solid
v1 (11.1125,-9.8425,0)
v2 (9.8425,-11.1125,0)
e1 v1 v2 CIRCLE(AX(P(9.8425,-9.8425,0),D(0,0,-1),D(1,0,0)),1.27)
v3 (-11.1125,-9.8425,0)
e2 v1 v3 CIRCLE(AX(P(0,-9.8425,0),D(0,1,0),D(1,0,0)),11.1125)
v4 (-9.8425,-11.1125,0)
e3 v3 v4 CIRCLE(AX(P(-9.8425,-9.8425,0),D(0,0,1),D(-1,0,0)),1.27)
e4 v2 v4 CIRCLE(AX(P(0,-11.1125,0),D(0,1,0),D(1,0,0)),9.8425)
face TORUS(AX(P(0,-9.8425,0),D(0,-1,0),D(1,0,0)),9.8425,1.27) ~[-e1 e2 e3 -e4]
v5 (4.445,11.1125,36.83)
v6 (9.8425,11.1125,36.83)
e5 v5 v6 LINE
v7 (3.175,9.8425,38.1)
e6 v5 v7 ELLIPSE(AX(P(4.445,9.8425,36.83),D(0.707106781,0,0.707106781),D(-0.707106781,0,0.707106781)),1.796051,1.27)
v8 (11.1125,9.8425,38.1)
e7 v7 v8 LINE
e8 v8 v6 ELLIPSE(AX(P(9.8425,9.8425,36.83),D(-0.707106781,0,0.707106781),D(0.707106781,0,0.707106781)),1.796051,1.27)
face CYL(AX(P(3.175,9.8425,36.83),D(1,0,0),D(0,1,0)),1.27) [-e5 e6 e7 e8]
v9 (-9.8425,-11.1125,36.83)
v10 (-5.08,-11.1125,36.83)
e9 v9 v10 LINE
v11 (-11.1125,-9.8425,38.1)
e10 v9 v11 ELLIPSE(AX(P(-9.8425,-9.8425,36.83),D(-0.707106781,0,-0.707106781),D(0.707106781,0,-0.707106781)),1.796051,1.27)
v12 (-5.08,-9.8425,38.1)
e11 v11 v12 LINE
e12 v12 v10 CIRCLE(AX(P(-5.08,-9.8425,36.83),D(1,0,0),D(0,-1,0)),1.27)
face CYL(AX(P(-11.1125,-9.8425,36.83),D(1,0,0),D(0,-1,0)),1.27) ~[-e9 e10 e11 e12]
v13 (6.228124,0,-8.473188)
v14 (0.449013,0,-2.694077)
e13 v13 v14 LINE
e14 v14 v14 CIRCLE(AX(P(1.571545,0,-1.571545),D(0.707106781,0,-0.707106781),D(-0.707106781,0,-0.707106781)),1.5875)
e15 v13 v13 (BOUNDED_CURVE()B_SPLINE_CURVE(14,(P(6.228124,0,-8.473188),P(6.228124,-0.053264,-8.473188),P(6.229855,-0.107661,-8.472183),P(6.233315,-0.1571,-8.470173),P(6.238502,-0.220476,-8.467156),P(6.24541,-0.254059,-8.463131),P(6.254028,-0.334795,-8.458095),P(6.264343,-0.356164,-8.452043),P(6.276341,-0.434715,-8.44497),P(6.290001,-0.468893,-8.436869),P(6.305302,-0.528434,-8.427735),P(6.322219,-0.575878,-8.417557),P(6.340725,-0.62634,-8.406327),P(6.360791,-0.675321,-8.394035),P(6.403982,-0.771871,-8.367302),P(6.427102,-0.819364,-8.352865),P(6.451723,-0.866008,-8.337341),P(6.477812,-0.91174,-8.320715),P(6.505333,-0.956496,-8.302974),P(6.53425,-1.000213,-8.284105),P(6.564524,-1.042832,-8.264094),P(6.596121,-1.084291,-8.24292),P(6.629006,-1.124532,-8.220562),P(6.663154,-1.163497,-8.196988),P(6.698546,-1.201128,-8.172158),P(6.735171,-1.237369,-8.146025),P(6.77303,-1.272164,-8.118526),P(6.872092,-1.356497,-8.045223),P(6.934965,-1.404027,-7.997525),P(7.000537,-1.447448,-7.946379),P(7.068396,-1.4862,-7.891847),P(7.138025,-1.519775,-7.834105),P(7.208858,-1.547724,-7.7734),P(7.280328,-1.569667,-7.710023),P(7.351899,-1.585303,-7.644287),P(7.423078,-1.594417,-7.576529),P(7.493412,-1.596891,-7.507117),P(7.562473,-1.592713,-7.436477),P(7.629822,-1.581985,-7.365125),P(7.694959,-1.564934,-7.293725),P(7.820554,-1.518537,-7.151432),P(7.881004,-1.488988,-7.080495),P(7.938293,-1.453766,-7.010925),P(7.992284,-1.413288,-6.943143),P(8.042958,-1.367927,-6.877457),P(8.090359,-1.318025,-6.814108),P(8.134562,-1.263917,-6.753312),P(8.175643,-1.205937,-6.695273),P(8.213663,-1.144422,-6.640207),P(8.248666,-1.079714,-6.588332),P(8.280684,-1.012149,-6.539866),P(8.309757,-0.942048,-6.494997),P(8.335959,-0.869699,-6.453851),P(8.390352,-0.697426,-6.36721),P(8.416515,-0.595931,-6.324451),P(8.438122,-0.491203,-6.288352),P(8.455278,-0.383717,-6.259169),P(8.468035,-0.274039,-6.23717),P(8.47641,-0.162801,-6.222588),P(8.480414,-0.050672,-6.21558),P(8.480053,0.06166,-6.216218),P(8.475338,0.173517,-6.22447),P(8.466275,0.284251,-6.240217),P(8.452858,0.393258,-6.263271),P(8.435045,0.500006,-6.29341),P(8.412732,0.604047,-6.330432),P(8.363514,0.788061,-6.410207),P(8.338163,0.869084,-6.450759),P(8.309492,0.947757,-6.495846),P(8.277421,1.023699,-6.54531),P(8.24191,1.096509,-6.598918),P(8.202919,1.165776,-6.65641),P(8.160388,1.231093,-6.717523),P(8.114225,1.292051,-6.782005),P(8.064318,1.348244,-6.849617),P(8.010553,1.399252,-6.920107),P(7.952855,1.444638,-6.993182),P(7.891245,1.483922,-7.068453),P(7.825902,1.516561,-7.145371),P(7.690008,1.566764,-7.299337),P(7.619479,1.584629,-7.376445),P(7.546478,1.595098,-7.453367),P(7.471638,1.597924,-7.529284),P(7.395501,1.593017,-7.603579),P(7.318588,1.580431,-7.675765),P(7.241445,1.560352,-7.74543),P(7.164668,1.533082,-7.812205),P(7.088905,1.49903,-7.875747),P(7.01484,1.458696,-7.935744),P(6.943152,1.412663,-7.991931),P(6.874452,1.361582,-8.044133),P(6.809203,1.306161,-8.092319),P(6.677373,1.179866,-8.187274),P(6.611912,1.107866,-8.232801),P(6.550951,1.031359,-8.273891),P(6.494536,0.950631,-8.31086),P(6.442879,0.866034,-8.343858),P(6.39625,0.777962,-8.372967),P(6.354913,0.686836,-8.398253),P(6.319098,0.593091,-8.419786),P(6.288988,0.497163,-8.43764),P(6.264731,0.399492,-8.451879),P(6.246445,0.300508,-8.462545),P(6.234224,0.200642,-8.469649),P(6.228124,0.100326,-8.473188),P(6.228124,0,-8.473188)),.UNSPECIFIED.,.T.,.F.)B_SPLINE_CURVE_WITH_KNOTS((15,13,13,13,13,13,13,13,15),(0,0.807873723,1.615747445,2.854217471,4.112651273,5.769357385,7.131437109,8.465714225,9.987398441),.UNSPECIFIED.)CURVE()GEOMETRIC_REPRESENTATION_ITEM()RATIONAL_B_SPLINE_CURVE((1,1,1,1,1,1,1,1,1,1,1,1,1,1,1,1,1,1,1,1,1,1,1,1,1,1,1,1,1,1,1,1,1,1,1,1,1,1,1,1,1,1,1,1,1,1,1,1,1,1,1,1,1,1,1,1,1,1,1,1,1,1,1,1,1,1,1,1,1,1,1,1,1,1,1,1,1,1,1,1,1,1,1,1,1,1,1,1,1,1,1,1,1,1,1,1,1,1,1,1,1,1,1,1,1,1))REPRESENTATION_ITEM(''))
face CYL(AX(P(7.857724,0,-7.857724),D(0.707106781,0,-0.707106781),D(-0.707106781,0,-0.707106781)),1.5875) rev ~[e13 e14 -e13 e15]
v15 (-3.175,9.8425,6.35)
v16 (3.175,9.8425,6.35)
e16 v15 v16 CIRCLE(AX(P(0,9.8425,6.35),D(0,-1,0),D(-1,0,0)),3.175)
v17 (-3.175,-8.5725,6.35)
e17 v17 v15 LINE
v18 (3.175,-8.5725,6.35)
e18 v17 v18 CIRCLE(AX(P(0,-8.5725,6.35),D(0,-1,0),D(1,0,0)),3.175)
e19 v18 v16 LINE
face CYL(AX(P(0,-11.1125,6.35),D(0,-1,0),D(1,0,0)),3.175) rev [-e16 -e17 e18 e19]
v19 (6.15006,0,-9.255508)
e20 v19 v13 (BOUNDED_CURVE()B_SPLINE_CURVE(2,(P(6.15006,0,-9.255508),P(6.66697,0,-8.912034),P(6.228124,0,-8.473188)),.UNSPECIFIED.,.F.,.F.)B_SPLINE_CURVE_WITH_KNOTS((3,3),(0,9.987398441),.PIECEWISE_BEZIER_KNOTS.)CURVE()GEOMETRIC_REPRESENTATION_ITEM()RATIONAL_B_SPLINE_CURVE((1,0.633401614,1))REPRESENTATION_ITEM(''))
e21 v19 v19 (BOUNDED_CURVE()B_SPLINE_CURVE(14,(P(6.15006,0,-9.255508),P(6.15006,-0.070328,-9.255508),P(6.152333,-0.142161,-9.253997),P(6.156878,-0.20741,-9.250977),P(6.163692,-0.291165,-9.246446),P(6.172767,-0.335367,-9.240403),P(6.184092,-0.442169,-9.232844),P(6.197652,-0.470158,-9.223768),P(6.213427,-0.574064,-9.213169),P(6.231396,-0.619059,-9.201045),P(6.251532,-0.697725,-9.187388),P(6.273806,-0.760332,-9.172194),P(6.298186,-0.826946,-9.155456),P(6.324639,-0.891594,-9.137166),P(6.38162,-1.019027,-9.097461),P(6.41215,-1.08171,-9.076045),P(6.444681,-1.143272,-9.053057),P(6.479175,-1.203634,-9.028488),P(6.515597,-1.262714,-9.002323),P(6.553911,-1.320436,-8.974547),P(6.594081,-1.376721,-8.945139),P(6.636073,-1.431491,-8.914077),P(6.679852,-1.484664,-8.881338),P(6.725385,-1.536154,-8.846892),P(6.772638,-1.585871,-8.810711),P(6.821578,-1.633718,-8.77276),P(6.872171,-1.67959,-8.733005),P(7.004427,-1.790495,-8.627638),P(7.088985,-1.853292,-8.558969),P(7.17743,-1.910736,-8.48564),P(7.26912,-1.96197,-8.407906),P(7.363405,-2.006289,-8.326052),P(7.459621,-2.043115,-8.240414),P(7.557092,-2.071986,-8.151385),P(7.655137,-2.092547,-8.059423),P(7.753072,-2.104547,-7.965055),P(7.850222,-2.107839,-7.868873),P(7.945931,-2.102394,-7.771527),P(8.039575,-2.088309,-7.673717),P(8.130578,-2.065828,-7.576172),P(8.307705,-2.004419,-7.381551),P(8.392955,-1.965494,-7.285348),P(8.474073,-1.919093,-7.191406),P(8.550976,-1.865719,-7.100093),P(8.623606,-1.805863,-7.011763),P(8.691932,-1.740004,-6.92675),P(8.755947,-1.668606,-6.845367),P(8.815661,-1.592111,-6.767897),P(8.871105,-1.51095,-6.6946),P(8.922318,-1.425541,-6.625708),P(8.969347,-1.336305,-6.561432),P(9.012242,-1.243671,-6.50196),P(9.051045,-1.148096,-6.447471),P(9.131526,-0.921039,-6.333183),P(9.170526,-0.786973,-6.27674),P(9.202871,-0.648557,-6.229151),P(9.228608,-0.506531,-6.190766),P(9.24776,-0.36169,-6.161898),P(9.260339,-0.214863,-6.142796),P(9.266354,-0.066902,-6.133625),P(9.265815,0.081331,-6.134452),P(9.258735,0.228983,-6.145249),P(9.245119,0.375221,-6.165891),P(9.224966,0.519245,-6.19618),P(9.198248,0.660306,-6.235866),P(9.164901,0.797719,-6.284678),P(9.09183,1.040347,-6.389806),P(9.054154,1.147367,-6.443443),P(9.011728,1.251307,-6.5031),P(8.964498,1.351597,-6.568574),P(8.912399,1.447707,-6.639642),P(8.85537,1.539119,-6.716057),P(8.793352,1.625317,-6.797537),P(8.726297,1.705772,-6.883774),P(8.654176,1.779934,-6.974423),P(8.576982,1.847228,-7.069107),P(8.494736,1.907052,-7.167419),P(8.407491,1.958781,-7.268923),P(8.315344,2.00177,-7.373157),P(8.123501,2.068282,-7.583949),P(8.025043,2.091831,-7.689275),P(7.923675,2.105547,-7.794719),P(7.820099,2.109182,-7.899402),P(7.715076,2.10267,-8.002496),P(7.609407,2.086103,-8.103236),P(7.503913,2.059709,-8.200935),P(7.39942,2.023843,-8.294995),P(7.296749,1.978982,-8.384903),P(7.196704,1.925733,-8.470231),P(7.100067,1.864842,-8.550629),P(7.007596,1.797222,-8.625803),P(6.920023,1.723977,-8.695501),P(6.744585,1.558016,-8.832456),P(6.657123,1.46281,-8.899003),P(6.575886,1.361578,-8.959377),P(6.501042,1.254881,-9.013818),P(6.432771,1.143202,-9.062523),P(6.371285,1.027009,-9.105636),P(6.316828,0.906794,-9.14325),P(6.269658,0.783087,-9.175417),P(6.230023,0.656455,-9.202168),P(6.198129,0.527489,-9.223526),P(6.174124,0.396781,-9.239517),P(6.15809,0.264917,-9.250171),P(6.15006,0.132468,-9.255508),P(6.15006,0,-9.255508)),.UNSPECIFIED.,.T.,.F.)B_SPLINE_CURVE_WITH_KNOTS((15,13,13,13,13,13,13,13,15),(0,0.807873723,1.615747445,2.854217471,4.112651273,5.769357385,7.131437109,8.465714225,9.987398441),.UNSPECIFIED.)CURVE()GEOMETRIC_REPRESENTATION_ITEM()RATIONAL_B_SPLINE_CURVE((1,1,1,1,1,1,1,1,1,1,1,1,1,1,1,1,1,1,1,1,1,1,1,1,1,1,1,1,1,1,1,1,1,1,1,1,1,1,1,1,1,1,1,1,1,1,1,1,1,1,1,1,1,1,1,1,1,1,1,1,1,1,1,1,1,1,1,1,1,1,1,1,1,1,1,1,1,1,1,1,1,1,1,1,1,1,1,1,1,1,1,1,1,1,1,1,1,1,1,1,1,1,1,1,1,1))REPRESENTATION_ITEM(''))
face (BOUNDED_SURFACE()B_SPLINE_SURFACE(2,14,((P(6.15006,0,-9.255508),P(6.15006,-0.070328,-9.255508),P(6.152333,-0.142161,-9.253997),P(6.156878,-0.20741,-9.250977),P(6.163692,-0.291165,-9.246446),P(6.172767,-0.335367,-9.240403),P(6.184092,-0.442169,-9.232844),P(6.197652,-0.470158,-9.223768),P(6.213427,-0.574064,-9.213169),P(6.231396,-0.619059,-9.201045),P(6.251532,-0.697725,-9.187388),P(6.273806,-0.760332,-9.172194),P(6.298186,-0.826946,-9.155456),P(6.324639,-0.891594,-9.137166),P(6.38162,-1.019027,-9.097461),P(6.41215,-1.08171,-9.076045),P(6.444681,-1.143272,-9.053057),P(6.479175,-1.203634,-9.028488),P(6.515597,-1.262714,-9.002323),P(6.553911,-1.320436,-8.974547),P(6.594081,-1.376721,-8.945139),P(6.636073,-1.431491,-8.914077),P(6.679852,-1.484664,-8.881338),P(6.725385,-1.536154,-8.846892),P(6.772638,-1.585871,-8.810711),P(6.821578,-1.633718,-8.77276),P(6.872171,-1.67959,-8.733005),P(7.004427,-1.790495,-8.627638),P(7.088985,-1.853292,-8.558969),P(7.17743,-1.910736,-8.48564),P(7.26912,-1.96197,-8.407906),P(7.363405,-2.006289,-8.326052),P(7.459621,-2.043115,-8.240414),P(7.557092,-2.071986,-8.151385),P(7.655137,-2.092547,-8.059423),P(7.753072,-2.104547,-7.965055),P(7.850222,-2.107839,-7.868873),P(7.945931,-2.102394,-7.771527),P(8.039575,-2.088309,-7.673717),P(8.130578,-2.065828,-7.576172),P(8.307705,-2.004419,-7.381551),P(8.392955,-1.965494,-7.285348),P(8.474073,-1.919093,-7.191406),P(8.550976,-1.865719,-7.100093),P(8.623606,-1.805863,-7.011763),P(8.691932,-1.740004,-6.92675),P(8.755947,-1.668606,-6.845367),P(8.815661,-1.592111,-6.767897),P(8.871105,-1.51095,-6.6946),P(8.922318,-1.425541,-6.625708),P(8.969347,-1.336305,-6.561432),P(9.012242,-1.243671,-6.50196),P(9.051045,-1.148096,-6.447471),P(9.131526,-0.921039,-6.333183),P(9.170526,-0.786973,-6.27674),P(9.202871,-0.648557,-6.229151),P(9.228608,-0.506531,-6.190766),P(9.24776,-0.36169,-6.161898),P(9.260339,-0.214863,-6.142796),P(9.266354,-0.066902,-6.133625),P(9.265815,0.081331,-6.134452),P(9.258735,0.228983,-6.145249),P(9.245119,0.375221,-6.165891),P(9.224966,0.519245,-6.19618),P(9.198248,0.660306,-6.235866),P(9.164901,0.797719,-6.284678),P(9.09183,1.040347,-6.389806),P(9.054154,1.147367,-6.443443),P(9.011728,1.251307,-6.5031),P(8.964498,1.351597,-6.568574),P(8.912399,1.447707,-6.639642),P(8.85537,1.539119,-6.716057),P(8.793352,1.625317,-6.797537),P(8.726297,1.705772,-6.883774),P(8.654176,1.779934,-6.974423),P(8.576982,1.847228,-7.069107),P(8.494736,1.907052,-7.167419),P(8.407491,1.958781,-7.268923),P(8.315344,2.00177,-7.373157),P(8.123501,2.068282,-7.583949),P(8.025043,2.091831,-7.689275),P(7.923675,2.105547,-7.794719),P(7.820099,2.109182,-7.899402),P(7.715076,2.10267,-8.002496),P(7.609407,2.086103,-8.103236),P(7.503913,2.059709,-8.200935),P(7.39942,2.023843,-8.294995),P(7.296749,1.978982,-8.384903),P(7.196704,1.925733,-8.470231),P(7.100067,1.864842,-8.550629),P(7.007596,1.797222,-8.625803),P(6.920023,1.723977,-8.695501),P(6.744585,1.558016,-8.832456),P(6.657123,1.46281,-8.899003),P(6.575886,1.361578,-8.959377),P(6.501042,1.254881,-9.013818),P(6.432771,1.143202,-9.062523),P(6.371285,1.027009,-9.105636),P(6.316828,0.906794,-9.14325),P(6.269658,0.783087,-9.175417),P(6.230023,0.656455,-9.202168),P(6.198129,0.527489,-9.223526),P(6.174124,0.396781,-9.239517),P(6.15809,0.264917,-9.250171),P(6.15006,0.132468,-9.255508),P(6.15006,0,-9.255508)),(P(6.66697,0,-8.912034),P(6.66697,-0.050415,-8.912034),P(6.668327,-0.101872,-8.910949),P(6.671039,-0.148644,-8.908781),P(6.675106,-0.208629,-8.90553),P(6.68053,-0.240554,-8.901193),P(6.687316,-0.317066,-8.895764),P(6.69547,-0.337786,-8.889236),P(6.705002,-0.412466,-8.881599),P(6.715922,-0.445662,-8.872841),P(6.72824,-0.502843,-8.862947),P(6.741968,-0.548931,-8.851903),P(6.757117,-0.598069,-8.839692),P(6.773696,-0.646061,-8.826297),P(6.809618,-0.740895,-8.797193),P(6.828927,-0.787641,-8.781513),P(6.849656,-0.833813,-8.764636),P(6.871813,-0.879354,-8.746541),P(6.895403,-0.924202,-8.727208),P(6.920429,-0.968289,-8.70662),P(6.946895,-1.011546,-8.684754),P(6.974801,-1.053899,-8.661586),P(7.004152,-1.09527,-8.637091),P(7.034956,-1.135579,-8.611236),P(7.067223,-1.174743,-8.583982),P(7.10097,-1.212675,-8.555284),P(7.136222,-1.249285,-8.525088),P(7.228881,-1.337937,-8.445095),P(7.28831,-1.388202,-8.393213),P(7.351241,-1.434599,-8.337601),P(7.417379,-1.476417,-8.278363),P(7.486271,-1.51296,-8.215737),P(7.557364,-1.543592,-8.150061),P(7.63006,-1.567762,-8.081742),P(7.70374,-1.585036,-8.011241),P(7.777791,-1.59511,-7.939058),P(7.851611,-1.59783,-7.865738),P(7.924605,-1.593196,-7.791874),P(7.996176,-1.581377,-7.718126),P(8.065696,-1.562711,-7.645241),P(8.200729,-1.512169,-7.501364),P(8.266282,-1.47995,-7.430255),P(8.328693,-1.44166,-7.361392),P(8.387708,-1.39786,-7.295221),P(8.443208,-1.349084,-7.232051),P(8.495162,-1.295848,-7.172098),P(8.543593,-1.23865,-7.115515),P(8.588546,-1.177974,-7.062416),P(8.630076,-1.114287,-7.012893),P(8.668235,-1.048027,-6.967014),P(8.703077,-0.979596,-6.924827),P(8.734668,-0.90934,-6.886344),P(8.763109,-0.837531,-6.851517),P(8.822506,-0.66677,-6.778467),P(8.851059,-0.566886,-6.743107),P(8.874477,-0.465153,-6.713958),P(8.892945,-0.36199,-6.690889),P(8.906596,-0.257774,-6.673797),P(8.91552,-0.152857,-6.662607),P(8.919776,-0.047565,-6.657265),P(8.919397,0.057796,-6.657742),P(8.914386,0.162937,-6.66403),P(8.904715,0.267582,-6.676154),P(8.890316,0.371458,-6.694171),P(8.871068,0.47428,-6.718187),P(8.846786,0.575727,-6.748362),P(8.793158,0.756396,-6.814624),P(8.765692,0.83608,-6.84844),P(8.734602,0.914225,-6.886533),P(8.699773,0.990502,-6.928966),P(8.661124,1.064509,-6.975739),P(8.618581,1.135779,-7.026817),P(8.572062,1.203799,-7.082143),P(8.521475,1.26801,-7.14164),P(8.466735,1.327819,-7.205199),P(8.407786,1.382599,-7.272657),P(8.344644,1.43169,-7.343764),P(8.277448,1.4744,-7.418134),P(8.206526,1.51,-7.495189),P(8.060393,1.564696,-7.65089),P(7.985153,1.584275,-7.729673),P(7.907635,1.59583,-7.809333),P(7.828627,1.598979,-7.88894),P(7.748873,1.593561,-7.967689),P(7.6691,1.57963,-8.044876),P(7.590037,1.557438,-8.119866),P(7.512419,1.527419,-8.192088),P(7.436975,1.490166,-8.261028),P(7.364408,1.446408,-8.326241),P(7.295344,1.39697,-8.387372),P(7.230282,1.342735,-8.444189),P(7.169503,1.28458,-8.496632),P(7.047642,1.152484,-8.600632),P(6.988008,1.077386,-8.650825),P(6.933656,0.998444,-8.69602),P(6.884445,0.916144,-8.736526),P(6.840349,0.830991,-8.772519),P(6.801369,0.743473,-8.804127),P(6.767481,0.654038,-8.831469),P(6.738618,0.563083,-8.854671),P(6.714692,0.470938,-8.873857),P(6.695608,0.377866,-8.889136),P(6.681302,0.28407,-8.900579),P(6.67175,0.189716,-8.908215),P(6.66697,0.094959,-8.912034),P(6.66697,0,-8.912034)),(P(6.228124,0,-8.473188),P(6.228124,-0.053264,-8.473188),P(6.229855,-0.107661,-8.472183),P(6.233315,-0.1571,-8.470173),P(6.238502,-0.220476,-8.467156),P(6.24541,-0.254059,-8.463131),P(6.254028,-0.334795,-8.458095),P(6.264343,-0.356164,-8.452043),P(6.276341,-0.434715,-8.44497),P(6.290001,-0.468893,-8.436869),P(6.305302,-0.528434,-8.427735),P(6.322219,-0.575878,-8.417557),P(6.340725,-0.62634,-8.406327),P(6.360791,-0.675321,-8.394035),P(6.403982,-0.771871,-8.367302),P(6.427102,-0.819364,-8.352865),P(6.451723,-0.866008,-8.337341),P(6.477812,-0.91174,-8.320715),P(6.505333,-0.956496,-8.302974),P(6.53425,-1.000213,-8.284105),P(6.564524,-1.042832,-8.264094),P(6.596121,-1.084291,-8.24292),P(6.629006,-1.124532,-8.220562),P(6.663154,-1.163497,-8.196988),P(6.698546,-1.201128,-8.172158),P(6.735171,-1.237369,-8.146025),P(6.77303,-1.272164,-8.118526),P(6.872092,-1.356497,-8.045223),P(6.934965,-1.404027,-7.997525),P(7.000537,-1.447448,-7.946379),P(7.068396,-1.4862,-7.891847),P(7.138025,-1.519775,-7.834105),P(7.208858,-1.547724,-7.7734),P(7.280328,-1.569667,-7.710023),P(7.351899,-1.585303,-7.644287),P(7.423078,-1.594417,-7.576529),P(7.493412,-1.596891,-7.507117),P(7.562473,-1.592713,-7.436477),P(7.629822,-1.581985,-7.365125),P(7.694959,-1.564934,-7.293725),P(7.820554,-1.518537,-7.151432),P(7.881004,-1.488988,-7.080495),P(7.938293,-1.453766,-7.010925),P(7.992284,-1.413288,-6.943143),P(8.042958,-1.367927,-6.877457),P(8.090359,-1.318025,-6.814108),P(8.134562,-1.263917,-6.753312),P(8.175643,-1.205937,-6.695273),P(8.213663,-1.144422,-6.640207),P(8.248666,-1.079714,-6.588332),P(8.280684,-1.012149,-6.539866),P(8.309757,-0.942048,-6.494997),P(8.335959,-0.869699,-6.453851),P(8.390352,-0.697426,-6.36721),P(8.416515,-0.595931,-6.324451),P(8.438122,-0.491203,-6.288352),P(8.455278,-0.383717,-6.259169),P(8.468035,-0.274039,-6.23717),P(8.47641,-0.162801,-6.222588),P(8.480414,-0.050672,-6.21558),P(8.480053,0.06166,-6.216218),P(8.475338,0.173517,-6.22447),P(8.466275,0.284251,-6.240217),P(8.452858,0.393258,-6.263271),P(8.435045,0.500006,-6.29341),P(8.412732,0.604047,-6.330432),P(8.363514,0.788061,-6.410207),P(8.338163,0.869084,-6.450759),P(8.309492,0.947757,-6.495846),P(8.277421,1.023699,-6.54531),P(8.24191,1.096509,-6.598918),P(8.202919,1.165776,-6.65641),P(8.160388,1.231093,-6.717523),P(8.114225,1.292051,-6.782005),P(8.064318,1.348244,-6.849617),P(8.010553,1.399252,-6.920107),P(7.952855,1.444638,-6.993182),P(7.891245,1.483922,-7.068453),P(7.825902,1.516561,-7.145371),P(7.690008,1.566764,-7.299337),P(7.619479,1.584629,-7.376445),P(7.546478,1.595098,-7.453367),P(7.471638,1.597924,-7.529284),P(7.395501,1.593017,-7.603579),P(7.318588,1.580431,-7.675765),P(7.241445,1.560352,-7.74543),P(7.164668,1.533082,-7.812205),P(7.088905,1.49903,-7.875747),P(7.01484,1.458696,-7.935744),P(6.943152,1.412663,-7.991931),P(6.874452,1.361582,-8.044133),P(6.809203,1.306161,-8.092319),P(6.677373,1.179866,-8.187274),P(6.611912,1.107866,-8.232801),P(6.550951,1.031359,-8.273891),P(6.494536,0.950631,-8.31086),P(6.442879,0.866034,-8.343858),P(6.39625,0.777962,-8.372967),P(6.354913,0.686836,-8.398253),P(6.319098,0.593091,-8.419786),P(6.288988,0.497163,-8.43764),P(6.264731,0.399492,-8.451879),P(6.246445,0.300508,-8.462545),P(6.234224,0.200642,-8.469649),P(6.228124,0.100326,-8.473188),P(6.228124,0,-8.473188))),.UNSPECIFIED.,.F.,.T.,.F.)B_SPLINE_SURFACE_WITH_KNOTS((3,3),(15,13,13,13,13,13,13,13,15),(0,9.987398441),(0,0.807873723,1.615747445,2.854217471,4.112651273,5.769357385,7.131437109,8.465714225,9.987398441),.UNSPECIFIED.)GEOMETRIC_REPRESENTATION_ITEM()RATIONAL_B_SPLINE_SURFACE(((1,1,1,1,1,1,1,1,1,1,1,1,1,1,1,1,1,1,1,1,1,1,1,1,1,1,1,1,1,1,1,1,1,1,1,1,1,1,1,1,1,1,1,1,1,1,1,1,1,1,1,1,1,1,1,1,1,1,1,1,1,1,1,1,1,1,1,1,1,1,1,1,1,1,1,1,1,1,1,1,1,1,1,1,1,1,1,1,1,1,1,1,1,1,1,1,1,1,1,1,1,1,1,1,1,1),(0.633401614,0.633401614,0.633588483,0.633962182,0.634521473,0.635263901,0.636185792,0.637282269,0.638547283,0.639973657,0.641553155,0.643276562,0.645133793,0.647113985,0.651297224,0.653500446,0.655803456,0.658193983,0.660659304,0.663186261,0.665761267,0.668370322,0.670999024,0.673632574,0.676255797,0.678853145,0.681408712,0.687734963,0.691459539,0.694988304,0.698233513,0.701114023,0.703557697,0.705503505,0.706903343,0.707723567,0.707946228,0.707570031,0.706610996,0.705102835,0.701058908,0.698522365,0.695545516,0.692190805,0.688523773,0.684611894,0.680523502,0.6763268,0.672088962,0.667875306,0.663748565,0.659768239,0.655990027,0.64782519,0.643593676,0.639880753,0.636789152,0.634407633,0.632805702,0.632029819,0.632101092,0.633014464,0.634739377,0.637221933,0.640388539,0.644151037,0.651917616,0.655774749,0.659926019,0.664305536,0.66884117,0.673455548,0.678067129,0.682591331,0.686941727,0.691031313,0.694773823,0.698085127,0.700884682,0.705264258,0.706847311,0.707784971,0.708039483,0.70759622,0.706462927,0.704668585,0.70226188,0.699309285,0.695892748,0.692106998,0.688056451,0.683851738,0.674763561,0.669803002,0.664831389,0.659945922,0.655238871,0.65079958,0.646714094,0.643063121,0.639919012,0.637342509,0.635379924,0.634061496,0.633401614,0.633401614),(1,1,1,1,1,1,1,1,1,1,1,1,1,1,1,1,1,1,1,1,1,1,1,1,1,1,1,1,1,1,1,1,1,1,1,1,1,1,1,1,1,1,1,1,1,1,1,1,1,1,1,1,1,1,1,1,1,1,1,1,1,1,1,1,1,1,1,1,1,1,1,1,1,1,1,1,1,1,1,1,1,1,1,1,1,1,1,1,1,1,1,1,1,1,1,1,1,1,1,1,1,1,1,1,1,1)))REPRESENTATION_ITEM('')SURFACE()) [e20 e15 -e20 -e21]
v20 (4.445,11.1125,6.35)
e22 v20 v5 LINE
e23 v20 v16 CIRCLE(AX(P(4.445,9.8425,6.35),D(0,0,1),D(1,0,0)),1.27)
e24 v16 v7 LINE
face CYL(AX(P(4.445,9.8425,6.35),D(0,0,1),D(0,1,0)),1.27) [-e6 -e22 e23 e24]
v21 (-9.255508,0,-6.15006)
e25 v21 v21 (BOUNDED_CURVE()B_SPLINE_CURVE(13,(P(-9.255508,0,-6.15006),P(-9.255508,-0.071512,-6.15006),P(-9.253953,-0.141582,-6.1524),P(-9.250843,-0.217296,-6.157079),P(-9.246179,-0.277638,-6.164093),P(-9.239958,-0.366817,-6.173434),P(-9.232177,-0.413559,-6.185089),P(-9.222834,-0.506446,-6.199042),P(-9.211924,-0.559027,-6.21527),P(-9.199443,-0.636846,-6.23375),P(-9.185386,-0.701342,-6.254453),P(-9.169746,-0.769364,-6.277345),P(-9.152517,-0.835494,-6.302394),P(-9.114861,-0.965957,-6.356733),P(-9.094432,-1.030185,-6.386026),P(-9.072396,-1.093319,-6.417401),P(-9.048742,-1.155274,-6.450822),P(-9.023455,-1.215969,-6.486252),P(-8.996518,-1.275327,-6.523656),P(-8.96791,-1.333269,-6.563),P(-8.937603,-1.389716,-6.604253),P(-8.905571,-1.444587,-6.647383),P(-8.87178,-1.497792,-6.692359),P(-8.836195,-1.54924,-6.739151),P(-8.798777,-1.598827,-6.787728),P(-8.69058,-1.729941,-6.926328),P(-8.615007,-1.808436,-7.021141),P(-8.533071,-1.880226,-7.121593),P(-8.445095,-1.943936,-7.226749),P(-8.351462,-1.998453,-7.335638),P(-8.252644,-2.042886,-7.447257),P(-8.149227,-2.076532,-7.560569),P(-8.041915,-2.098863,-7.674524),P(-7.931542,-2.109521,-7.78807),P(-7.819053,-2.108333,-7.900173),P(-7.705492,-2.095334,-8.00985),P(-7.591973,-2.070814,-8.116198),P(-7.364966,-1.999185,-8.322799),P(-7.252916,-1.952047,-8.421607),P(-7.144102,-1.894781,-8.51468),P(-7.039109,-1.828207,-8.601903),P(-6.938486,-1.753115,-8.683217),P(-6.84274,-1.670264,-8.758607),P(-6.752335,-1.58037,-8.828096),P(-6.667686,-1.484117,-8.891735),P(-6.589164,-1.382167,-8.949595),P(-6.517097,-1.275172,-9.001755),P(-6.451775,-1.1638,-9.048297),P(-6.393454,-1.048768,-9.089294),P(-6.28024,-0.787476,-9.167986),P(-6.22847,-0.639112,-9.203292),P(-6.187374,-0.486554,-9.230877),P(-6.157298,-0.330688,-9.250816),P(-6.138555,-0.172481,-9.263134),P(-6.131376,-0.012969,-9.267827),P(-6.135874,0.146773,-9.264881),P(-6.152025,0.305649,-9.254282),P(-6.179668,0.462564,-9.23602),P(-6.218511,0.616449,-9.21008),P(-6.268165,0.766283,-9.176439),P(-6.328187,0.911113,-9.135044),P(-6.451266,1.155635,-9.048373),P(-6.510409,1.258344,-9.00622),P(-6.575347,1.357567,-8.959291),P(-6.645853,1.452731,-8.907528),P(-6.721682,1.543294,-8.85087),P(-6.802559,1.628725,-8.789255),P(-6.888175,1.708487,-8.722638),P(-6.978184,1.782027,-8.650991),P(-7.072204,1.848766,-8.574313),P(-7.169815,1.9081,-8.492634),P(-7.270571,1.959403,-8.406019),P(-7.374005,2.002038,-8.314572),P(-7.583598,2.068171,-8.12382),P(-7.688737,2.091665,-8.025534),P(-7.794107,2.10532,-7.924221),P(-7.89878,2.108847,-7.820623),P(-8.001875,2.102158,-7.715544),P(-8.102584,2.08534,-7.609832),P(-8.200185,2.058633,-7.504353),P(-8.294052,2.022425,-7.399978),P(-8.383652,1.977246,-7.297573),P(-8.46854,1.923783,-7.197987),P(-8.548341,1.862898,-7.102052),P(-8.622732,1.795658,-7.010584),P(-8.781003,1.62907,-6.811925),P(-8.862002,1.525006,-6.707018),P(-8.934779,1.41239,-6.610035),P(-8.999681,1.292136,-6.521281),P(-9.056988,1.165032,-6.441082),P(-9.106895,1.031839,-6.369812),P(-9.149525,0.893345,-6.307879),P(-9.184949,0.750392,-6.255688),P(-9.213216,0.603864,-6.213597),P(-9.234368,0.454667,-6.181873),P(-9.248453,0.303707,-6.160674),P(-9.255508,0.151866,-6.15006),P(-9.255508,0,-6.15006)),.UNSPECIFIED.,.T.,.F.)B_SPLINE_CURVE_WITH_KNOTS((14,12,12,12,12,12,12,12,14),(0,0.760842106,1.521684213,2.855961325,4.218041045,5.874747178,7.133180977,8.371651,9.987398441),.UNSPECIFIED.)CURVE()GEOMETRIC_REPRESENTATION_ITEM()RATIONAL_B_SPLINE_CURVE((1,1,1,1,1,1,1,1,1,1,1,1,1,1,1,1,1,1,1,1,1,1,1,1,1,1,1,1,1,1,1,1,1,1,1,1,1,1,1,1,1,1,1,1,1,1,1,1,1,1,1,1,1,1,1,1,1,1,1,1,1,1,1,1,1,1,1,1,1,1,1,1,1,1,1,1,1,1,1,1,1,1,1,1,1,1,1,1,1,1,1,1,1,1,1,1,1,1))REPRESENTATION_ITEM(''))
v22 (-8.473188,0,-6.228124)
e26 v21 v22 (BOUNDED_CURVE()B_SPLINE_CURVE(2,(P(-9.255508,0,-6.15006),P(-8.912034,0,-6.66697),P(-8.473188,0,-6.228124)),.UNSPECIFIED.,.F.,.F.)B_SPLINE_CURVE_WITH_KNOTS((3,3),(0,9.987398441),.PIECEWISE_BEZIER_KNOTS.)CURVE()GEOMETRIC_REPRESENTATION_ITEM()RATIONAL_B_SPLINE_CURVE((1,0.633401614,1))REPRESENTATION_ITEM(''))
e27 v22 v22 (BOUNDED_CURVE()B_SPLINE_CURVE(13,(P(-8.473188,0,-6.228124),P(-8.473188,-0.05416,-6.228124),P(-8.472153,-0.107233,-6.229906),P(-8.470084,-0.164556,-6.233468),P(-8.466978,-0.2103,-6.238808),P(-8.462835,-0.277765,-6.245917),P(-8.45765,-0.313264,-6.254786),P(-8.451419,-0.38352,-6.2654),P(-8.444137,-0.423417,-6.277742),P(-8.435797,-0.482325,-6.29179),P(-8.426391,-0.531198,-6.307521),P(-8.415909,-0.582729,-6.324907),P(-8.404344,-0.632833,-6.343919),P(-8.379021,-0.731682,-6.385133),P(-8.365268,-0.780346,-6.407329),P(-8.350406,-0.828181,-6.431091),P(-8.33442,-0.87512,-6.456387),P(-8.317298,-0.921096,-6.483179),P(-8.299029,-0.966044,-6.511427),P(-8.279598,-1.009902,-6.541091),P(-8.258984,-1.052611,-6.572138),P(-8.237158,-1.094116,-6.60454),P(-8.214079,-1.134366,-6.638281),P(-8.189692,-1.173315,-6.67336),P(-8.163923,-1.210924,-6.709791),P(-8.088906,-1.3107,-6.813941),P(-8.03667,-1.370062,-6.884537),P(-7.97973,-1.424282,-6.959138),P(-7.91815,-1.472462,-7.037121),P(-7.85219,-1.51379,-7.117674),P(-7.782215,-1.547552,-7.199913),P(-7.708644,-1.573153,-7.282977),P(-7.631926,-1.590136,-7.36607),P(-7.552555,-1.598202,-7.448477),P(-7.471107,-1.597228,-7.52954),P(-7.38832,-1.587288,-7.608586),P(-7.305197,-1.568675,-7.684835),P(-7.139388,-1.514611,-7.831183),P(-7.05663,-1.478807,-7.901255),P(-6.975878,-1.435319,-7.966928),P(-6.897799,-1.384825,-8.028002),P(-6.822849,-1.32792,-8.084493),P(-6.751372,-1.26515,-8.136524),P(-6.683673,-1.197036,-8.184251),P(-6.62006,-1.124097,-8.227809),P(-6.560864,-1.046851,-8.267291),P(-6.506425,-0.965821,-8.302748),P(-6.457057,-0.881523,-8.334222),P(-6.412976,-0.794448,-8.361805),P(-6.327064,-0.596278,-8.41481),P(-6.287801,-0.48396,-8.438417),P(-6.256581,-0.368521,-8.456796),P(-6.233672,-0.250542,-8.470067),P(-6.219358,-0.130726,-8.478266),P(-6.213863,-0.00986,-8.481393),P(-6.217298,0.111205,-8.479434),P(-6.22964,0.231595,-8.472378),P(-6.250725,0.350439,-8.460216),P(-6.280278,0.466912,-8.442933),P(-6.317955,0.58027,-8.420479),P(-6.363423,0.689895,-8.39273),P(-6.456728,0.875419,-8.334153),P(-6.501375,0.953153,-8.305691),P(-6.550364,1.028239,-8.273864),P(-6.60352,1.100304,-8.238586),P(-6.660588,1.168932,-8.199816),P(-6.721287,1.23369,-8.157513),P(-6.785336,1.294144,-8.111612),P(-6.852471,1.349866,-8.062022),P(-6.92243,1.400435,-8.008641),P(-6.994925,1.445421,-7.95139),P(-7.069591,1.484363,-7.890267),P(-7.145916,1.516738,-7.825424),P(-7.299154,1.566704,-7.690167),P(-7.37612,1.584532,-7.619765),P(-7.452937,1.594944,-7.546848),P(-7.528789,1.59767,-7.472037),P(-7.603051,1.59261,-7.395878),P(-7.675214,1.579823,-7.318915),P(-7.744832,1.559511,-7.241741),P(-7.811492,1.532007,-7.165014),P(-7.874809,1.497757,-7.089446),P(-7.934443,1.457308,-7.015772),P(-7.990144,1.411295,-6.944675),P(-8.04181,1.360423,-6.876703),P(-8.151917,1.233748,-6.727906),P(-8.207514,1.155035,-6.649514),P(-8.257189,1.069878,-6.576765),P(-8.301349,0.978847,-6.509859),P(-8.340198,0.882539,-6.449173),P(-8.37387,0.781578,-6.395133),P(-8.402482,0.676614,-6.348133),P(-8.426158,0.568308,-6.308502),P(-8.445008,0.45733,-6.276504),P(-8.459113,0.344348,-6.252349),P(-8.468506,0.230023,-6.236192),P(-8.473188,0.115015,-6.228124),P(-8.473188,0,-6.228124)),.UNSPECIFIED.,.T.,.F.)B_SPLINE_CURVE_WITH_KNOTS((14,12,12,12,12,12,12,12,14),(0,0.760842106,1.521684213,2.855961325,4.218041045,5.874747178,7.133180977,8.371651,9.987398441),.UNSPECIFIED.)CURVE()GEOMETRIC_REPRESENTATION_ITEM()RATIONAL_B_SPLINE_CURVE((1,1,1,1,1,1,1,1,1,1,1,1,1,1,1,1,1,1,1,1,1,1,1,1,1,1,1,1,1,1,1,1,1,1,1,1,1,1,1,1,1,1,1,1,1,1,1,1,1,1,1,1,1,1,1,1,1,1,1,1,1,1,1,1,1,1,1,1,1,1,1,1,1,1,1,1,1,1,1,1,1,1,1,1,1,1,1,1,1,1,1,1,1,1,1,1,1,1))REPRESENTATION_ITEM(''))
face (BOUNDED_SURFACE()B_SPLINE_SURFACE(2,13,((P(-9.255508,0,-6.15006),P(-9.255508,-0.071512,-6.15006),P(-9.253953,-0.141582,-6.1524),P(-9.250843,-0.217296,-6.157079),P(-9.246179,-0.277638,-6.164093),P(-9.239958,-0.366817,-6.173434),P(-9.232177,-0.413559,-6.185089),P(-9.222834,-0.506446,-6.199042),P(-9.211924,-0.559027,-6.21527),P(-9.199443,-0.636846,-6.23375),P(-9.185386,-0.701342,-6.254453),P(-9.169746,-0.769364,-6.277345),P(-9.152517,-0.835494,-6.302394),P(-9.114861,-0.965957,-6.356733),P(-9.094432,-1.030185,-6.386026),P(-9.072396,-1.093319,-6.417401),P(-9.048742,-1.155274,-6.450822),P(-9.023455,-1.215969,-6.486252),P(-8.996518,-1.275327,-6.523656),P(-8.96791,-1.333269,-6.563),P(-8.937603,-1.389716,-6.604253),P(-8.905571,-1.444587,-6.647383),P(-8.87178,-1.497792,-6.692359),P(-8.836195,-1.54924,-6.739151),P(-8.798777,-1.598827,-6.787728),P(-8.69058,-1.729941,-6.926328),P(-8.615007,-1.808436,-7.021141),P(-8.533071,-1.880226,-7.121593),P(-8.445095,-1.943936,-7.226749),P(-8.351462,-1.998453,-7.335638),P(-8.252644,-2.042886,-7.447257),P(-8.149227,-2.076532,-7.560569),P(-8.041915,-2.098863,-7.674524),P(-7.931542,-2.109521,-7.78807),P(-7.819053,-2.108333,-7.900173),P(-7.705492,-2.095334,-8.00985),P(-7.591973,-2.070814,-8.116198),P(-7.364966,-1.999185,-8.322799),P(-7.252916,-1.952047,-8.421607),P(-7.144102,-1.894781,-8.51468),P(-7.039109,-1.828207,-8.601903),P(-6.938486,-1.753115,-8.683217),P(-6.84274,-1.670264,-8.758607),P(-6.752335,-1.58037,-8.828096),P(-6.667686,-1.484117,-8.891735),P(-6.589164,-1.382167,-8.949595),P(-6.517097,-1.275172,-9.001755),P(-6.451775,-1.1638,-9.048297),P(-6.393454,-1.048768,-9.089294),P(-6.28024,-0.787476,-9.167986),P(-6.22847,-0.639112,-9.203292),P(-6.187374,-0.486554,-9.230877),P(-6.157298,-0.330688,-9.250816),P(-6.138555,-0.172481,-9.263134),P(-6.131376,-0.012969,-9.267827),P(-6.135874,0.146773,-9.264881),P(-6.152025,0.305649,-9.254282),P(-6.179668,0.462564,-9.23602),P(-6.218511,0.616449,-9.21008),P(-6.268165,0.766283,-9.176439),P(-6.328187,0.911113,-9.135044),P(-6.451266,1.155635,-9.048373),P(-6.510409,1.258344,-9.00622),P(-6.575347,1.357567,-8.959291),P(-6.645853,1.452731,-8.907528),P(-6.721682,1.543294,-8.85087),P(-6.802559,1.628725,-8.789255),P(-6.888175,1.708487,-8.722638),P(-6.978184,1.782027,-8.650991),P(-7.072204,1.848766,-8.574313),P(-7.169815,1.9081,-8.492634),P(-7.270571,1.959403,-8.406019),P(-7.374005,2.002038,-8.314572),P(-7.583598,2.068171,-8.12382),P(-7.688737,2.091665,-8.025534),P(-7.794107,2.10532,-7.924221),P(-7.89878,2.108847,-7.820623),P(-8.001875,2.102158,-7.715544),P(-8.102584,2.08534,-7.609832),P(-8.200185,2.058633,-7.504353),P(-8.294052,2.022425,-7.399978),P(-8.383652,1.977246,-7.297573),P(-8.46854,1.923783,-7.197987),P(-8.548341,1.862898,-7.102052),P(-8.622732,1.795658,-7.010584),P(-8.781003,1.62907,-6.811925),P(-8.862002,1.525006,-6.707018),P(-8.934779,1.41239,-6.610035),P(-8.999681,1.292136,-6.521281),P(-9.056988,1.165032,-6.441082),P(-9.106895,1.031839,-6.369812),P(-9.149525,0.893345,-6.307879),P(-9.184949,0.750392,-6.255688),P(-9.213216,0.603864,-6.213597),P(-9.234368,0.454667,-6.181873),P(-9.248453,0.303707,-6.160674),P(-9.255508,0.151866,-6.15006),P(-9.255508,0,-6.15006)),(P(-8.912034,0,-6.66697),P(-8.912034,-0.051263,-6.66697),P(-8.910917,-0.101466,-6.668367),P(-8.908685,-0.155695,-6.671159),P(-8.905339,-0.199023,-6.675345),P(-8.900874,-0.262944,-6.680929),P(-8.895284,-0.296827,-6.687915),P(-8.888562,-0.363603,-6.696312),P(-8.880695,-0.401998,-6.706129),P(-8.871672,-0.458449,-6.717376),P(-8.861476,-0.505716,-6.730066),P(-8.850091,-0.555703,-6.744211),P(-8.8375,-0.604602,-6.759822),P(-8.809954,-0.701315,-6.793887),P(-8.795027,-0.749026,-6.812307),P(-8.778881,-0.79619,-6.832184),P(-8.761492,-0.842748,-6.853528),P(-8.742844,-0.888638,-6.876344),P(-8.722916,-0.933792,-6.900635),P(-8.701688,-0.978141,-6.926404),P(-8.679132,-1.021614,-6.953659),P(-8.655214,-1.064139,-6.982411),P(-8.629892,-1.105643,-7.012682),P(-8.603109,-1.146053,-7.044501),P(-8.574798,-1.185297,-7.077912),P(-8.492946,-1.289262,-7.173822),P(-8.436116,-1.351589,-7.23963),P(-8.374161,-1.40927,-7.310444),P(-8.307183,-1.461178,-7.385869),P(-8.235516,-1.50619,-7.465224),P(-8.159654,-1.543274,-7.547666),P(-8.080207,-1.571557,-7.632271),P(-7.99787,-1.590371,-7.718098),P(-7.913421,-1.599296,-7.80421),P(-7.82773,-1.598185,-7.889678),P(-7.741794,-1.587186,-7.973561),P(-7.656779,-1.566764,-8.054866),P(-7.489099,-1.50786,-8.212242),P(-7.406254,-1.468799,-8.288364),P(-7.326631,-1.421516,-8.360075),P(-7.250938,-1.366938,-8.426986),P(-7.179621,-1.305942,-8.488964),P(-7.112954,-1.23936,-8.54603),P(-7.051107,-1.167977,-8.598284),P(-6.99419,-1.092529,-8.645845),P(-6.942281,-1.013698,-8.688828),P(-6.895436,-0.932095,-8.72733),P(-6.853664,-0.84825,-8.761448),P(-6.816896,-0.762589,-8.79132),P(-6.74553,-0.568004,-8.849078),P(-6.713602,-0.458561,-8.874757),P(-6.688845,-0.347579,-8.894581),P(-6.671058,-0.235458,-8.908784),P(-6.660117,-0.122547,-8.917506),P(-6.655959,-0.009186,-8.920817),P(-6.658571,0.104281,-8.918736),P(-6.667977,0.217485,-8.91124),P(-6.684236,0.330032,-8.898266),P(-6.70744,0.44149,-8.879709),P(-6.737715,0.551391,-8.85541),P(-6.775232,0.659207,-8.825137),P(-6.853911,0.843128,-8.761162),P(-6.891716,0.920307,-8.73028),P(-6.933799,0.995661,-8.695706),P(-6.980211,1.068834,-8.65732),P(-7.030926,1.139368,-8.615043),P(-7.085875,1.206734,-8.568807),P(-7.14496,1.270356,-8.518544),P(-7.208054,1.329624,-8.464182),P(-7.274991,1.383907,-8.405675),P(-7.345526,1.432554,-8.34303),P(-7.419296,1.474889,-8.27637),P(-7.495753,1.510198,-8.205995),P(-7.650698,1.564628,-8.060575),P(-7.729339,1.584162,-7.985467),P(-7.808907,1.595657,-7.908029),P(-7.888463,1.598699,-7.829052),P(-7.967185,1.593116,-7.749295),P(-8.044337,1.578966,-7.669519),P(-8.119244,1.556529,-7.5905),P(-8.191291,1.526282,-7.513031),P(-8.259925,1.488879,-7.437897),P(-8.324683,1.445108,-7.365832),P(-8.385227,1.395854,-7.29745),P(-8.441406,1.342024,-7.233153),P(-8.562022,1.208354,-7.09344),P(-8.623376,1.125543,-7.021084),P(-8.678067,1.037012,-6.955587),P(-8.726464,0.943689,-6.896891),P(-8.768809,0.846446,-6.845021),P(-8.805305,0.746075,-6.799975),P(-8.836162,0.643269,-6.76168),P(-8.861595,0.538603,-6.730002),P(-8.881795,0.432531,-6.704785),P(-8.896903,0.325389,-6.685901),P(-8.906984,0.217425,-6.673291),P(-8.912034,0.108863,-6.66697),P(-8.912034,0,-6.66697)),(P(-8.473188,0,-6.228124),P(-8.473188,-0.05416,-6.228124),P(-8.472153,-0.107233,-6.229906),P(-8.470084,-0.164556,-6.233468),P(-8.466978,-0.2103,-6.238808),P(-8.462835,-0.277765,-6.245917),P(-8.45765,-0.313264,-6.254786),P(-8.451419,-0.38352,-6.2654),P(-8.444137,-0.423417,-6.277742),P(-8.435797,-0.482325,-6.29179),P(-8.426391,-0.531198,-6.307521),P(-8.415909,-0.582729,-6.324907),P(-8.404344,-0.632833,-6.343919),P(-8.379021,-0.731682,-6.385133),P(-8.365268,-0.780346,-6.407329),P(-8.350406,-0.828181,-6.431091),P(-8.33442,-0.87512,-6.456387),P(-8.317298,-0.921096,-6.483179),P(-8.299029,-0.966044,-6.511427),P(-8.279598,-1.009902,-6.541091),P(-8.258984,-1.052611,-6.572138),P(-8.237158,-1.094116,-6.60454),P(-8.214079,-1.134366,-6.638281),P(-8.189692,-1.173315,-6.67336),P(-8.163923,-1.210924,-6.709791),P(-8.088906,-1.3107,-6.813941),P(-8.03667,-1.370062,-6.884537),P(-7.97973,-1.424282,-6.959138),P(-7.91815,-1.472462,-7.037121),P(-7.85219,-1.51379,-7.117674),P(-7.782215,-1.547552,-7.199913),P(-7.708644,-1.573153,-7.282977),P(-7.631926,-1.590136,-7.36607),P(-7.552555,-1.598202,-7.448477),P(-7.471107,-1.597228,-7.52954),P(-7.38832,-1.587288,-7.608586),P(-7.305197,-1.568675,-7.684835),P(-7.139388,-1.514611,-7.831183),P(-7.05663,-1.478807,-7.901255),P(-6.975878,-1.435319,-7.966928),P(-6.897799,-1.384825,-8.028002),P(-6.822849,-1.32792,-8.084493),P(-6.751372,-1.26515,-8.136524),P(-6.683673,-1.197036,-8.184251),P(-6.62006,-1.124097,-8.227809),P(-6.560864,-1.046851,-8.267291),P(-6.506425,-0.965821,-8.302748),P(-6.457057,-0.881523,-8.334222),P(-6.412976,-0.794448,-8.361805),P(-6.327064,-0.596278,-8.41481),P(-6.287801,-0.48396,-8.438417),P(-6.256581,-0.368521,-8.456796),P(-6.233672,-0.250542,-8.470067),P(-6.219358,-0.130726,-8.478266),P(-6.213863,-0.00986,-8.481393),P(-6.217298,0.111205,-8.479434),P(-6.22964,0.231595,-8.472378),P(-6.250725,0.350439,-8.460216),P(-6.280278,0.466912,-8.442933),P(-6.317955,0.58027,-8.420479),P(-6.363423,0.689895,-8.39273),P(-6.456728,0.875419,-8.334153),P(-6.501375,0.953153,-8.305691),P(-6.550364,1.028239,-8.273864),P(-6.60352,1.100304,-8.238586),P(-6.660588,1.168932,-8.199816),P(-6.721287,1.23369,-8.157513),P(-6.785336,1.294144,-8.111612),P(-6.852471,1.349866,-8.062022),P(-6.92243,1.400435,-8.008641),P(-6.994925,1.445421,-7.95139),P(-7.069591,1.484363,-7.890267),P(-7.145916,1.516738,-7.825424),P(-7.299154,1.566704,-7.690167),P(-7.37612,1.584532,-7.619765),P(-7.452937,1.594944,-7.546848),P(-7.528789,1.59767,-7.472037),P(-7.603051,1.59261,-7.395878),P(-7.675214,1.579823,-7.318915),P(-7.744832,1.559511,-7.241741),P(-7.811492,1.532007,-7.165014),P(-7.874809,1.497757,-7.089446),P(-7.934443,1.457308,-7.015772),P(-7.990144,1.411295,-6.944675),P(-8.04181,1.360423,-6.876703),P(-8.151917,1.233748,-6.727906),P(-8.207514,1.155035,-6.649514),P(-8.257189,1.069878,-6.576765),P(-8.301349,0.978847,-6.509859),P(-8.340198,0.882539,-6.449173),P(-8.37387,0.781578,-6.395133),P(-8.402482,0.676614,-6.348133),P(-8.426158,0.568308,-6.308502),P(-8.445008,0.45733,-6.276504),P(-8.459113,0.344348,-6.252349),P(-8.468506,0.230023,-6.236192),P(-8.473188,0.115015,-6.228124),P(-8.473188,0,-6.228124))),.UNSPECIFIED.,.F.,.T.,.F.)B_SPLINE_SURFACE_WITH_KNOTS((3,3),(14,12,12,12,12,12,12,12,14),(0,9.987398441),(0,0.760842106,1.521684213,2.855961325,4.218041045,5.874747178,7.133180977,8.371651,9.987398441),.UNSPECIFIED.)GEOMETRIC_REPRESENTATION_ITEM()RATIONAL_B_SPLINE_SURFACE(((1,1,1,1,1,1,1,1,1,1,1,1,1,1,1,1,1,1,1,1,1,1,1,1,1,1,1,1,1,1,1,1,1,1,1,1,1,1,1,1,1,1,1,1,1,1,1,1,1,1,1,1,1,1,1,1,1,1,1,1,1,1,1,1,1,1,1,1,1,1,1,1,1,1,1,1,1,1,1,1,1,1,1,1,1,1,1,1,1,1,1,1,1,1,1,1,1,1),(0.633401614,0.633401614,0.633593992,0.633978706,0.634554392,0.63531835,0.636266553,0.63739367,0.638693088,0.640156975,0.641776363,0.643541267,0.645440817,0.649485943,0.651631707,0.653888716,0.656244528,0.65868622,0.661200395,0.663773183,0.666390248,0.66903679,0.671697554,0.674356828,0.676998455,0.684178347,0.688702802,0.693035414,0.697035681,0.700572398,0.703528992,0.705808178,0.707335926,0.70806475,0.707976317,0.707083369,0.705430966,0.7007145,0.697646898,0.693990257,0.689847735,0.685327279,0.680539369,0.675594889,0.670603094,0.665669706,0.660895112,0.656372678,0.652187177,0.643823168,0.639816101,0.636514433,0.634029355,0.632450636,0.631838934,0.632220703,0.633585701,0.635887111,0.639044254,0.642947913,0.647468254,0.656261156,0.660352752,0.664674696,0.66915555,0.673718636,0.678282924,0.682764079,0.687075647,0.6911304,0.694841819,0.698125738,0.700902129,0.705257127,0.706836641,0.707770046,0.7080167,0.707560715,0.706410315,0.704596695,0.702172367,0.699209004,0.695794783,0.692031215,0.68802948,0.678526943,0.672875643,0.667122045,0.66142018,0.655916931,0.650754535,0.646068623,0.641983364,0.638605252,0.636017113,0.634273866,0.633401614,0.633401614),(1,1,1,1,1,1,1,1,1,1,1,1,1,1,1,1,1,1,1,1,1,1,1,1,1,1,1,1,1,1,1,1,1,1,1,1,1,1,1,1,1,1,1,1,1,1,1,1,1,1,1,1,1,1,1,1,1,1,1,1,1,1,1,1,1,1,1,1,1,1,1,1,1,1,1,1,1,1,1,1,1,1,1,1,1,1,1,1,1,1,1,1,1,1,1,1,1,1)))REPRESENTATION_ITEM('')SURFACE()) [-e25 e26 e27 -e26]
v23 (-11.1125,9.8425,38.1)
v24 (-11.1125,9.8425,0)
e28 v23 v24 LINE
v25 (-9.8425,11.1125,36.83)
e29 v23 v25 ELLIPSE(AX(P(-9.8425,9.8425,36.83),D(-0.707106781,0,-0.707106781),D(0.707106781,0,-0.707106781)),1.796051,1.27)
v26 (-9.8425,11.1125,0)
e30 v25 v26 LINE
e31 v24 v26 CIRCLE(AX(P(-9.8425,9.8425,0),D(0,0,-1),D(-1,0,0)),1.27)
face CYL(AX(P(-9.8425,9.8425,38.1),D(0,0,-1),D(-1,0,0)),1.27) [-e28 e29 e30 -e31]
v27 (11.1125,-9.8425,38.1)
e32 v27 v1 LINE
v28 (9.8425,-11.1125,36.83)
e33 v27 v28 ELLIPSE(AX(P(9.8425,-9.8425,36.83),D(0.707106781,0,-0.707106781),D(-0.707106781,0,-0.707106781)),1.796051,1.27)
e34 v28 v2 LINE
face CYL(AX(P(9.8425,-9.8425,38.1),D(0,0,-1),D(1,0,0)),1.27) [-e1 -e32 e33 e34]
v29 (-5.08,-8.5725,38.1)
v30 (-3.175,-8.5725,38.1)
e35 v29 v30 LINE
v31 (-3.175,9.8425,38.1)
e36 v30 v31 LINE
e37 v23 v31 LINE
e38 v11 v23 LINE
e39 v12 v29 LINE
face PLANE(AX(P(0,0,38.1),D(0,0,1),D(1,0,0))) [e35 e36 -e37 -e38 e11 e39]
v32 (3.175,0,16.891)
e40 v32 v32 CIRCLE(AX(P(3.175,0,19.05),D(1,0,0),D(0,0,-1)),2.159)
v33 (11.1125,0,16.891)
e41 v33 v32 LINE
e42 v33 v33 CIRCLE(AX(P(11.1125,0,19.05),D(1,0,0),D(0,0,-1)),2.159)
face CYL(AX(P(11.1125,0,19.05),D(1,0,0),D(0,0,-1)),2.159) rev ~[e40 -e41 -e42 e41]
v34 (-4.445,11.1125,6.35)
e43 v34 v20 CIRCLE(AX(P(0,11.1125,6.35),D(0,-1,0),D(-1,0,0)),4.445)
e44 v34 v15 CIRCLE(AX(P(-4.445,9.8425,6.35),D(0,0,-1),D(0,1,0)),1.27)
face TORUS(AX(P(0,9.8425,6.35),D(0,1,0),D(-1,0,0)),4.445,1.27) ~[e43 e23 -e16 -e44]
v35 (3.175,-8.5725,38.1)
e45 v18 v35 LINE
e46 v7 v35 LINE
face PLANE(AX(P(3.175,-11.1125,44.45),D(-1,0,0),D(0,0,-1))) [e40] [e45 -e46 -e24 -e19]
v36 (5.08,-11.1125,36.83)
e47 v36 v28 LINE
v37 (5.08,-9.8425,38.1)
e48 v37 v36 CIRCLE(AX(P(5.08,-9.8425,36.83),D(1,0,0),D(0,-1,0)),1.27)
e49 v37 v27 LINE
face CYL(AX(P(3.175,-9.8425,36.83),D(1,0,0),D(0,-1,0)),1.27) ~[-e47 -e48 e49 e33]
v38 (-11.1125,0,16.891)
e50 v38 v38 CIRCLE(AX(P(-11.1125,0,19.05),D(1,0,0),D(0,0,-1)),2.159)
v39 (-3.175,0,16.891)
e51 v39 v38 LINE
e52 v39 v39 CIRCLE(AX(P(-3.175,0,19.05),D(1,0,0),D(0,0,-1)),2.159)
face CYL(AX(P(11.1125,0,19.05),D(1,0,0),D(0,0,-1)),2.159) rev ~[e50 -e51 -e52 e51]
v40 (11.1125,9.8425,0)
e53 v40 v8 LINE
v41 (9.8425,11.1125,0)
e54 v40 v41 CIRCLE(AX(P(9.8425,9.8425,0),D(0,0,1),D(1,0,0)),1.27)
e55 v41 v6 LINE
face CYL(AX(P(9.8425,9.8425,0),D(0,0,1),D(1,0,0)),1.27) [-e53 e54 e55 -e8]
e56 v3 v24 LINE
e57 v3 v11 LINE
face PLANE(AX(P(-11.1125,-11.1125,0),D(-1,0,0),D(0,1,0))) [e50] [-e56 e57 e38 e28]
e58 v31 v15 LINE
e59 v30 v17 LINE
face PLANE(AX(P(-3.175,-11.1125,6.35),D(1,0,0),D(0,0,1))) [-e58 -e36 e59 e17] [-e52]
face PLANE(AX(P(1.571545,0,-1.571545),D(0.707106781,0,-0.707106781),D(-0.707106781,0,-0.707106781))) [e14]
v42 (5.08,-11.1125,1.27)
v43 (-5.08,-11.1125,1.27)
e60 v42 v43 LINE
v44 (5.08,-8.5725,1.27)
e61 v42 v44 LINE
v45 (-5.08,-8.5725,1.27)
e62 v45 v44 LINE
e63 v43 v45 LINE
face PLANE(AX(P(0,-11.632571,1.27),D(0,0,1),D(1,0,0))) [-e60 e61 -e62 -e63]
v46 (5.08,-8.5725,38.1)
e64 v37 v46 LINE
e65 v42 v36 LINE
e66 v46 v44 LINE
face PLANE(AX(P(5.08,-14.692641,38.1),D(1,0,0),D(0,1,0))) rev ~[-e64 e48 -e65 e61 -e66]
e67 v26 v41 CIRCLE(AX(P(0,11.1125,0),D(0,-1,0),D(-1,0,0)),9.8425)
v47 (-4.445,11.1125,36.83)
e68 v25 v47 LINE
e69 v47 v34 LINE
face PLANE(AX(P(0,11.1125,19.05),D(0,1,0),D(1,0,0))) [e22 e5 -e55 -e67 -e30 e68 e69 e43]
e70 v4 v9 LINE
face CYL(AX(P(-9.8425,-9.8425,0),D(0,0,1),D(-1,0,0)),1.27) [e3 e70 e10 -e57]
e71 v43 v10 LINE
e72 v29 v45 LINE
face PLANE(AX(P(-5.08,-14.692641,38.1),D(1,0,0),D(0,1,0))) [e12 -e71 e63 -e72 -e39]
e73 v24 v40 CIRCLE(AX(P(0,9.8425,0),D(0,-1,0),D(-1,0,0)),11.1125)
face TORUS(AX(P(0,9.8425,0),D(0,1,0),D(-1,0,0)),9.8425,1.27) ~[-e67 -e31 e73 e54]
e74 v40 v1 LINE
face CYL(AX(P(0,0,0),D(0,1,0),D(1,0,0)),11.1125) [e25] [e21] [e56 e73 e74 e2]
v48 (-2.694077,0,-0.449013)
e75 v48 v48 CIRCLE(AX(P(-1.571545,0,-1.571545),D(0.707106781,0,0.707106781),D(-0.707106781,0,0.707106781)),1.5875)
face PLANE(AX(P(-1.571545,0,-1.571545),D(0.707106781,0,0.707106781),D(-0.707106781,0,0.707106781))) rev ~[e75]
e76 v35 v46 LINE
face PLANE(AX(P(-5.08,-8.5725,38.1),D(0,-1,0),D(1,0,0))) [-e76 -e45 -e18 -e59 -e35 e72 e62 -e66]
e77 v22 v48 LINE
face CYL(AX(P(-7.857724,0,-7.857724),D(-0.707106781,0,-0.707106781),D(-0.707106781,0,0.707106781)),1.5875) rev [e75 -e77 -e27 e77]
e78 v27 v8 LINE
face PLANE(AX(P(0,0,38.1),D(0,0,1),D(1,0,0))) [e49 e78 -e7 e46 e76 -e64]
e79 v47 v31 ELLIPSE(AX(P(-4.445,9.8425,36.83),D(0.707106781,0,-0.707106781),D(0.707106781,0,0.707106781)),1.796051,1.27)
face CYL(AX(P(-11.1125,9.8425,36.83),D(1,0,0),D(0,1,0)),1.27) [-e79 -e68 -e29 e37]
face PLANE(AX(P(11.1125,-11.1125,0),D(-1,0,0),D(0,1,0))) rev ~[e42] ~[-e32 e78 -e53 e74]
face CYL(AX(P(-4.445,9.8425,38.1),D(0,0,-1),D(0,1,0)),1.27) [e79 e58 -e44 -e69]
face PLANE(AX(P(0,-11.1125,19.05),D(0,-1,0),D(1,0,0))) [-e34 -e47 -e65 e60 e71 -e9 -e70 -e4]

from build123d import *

# Parameters (mm, degrees)
SKETCH1_W                       = 22.225
SKETCH1_H                       = 22.225
BOSS_EXTRUDE1_DEPTH             = 38.1
BOSS_EXTRUDE3_REACH             = 43.214
BOSS_EXTRUDE3_DIRECTION_2_REACH = 43.214
SKETCH4_R                       = 2.159
CUT_EXTRUDE1_DEPTH              = 46.486792383
SKETCH8_R                       = 1.5875
CUT_EXTRUDE3_DEPTH              = 8.89
SKETCH7_R                       = 1.5875
CUT_EXTRUDE4_DEPTH              = 8.89
CUT_EXTRUDE6_DEPTH              = 46.486792456
FILLET1_R                       = 0.508
FILLET15_R                      = 1.27
BOSS_EXTRUDE15_DEPTH            = 2.54
SKETCH18_W                      = 10.16
SKETCH18_H                      = 6.120141002
CUT_EXTRUDE7_DEPTH              = 36.83


with BuildPart() as part:
    # Sketch1 → Boss-Extrude1 (new body)
    with BuildSketch(Plane.XY):
        Rectangle(SKETCH1_W, SKETCH1_H)
    extrude(amount=BOSS_EXTRUDE1_DEPTH)

    # Boss-Extrude3: up to this face of the body (flat: up to its plane)
    boss_extrude3_end = Plane(part.part.faces().sort_by_distance((0, 11.1125, 19.05))[0])
    # Sketch3 → Boss-Extrude3 (add, up to the picked face)
    with BuildSketch(Plane(origin=(0, 0, 0), x_dir=(1, 0, 0), z_dir=(0, 1, 0)), mode=Mode.PRIVATE) as boss_extrude3_sk1:
        with BuildLine():
            Line((-11.1125, 0), (11.1125, 0))
            ThreePointArc((11.1125, 0), (0, 11.1125), (-11.1125, 0))
        make_face()
    boss_extrude3_tool1 = split(extrude(boss_extrude3_sk1.sketch, amount=BOSS_EXTRUDE3_REACH, mode=Mode.PRIVATE), bisect_by=boss_extrude3_end, keep=Keep.BOTH, mode=Mode.PRIVATE)
    add(boss_extrude3_tool1.solids().sort_by(Axis((0, 0, -4.716291), (0, 1, 0)))[0])

    # Boss-Extrude3 direction 2: up to this face of the body (flat: up to its plane)
    boss_extrude3_direction_2_end = Plane(part.part.faces().sort_by_distance((0, -11.1125, 19.05))[0])
    # Sketch3 → Boss-Extrude3 direction 2 (add, up to the picked face)
    with BuildSketch(Plane(origin=(0, 0, 0), x_dir=(1, 0, 0), z_dir=(0, 1, 0)), mode=Mode.PRIVATE) as boss_extrude3_direction_2_sk1:
        with BuildLine():
            Line((-11.1125, 0), (11.1125, 0))
            ThreePointArc((11.1125, 0), (0, 11.1125), (-11.1125, 0))
        make_face()
    boss_extrude3_direction_2_tool1 = split(extrude(boss_extrude3_direction_2_sk1.sketch, amount=-BOSS_EXTRUDE3_DIRECTION_2_REACH, mode=Mode.PRIVATE), bisect_by=boss_extrude3_direction_2_end, keep=Keep.BOTH, mode=Mode.PRIVATE)
    add(boss_extrude3_direction_2_tool1.solids().sort_by(Axis((0, 0, -4.716291), (0, -1, 0)))[0])

    # Sketch4 → Cut-Extrude1 (cut, through all)
    with BuildSketch(Plane(origin=(11.1125, 0, 0), x_dir=(0, 0, -1), z_dir=(1, 0, 0))):
        with Locations((-19.05, 0)):
            Circle(SKETCH4_R)
    extrude(amount=-CUT_EXTRUDE1_DEPTH, mode=Mode.SUBTRACT)

    # Sketch8 → Cut-Extrude3 (cut)
    with BuildSketch(Plane(origin=(7.857724106, 0, -7.857724106), x_dir=(-0.7071067811865515, 0, -0.7071067811865436), z_dir=(0.7071067811865436, 0, -0.7071067811865515))):
        Circle(SKETCH8_R)
    extrude(amount=-CUT_EXTRUDE3_DEPTH, mode=Mode.SUBTRACT)

    # Sketch7 → Cut-Extrude4 (cut)
    with BuildSketch(Plane(origin=(-7.857724106, 0, -7.857724106), x_dir=(0.7071067811865512, 0, -0.7071067811865439), z_dir=(0.7071067811865439, 0, 0.7071067811865512))):
        with Locations(Location((0, 0, 0), (0, 0, 180))):
            Circle(SKETCH7_R)
    extrude(amount=CUT_EXTRUDE4_DEPTH, mode=Mode.SUBTRACT)

    # Sketch10 → Cut-Extrude6 (cut, through all)
    with BuildSketch(Plane(origin=(0, -11.1125, 0), x_dir=(-1, 0, 0), z_dir=(0, -1, 0))):
        with BuildLine():
            Line((3.175, -6.35), (3.175, -44.45))
            ThreePointArc((3.175, -44.45), (0, -47.625), (-3.175, -44.45))
            Line((-3.175, -44.45), (-3.175, -6.35))
            ThreePointArc((-3.175, -6.35), (0, -3.175), (3.175, -6.35))
        make_face()
    extrude(amount=-CUT_EXTRUDE6_DEPTH, mode=Mode.SUBTRACT)

    # Fillet1
    fillet1_edges = [part.edges().sort_by_distance(p)[0] for p in [
        (8.89966195, 5e-09, -6.654597918),
        (-6.654597918, -5e-09, -8.89966195),
    ]]
    fillet(fillet1_edges, radius=FILLET1_R)

    # Fillet15
    fillet15_edges = [part.edges().sort_by_distance(p)[0] for p in [
        (-7.14375, -11.1125, 38.1),
        (0, 11.1125, -11.1125),
        (0, -11.1125, -11.1125),
        (-7.14375, 11.1125, 38.1),
        (7.14375, -11.1125, 38.1),
        (-3.175, 11.1125, 22.225),
        (3.175, 11.1125, 22.225),
        (0, 11.1125, 3.175),
        (-3.175, -11.1125, 22.225),
        (0, -11.1125, 3.175),
        (3.175, -11.1125, 22.225),
        (7.14375, 11.1125, 38.1),
        (11.1125, -11.1125, 19.05),
        (-11.1125, -11.1125, 19.05),
        (-11.1125, 11.1125, 19.05),
        (11.1125, 11.1125, 19.05),
    ]]
    fillet(fillet15_edges, radius=FILLET15_R)

    # Sketch14 → Boss-Extrude15 (add, symmetric)
    with BuildSketch(Plane(origin=(0, 0, 0), x_dir=(1, 0, 0), z_dir=(0, 1, 0))):
        Polygon((0.332639056, 2.225283), (-2.103732557, -0.211088613), (0.082871249, -2.397692418), (2.519242862, 0.038679195), align=None)
    extrude(amount=BOSS_EXTRUDE15_DEPTH, both=True)

    # Sketch18 → Cut-Extrude7 (cut)
    with BuildSketch(Plane.XY.offset(38.1)):
        with Locations((0, -11.632570501)):
            Rectangle(SKETCH18_W, SKETCH18_H)
    extrude(amount=-CUT_EXTRUDE7_DEPTH, mode=Mode.SUBTRACT)


solid = part.part
